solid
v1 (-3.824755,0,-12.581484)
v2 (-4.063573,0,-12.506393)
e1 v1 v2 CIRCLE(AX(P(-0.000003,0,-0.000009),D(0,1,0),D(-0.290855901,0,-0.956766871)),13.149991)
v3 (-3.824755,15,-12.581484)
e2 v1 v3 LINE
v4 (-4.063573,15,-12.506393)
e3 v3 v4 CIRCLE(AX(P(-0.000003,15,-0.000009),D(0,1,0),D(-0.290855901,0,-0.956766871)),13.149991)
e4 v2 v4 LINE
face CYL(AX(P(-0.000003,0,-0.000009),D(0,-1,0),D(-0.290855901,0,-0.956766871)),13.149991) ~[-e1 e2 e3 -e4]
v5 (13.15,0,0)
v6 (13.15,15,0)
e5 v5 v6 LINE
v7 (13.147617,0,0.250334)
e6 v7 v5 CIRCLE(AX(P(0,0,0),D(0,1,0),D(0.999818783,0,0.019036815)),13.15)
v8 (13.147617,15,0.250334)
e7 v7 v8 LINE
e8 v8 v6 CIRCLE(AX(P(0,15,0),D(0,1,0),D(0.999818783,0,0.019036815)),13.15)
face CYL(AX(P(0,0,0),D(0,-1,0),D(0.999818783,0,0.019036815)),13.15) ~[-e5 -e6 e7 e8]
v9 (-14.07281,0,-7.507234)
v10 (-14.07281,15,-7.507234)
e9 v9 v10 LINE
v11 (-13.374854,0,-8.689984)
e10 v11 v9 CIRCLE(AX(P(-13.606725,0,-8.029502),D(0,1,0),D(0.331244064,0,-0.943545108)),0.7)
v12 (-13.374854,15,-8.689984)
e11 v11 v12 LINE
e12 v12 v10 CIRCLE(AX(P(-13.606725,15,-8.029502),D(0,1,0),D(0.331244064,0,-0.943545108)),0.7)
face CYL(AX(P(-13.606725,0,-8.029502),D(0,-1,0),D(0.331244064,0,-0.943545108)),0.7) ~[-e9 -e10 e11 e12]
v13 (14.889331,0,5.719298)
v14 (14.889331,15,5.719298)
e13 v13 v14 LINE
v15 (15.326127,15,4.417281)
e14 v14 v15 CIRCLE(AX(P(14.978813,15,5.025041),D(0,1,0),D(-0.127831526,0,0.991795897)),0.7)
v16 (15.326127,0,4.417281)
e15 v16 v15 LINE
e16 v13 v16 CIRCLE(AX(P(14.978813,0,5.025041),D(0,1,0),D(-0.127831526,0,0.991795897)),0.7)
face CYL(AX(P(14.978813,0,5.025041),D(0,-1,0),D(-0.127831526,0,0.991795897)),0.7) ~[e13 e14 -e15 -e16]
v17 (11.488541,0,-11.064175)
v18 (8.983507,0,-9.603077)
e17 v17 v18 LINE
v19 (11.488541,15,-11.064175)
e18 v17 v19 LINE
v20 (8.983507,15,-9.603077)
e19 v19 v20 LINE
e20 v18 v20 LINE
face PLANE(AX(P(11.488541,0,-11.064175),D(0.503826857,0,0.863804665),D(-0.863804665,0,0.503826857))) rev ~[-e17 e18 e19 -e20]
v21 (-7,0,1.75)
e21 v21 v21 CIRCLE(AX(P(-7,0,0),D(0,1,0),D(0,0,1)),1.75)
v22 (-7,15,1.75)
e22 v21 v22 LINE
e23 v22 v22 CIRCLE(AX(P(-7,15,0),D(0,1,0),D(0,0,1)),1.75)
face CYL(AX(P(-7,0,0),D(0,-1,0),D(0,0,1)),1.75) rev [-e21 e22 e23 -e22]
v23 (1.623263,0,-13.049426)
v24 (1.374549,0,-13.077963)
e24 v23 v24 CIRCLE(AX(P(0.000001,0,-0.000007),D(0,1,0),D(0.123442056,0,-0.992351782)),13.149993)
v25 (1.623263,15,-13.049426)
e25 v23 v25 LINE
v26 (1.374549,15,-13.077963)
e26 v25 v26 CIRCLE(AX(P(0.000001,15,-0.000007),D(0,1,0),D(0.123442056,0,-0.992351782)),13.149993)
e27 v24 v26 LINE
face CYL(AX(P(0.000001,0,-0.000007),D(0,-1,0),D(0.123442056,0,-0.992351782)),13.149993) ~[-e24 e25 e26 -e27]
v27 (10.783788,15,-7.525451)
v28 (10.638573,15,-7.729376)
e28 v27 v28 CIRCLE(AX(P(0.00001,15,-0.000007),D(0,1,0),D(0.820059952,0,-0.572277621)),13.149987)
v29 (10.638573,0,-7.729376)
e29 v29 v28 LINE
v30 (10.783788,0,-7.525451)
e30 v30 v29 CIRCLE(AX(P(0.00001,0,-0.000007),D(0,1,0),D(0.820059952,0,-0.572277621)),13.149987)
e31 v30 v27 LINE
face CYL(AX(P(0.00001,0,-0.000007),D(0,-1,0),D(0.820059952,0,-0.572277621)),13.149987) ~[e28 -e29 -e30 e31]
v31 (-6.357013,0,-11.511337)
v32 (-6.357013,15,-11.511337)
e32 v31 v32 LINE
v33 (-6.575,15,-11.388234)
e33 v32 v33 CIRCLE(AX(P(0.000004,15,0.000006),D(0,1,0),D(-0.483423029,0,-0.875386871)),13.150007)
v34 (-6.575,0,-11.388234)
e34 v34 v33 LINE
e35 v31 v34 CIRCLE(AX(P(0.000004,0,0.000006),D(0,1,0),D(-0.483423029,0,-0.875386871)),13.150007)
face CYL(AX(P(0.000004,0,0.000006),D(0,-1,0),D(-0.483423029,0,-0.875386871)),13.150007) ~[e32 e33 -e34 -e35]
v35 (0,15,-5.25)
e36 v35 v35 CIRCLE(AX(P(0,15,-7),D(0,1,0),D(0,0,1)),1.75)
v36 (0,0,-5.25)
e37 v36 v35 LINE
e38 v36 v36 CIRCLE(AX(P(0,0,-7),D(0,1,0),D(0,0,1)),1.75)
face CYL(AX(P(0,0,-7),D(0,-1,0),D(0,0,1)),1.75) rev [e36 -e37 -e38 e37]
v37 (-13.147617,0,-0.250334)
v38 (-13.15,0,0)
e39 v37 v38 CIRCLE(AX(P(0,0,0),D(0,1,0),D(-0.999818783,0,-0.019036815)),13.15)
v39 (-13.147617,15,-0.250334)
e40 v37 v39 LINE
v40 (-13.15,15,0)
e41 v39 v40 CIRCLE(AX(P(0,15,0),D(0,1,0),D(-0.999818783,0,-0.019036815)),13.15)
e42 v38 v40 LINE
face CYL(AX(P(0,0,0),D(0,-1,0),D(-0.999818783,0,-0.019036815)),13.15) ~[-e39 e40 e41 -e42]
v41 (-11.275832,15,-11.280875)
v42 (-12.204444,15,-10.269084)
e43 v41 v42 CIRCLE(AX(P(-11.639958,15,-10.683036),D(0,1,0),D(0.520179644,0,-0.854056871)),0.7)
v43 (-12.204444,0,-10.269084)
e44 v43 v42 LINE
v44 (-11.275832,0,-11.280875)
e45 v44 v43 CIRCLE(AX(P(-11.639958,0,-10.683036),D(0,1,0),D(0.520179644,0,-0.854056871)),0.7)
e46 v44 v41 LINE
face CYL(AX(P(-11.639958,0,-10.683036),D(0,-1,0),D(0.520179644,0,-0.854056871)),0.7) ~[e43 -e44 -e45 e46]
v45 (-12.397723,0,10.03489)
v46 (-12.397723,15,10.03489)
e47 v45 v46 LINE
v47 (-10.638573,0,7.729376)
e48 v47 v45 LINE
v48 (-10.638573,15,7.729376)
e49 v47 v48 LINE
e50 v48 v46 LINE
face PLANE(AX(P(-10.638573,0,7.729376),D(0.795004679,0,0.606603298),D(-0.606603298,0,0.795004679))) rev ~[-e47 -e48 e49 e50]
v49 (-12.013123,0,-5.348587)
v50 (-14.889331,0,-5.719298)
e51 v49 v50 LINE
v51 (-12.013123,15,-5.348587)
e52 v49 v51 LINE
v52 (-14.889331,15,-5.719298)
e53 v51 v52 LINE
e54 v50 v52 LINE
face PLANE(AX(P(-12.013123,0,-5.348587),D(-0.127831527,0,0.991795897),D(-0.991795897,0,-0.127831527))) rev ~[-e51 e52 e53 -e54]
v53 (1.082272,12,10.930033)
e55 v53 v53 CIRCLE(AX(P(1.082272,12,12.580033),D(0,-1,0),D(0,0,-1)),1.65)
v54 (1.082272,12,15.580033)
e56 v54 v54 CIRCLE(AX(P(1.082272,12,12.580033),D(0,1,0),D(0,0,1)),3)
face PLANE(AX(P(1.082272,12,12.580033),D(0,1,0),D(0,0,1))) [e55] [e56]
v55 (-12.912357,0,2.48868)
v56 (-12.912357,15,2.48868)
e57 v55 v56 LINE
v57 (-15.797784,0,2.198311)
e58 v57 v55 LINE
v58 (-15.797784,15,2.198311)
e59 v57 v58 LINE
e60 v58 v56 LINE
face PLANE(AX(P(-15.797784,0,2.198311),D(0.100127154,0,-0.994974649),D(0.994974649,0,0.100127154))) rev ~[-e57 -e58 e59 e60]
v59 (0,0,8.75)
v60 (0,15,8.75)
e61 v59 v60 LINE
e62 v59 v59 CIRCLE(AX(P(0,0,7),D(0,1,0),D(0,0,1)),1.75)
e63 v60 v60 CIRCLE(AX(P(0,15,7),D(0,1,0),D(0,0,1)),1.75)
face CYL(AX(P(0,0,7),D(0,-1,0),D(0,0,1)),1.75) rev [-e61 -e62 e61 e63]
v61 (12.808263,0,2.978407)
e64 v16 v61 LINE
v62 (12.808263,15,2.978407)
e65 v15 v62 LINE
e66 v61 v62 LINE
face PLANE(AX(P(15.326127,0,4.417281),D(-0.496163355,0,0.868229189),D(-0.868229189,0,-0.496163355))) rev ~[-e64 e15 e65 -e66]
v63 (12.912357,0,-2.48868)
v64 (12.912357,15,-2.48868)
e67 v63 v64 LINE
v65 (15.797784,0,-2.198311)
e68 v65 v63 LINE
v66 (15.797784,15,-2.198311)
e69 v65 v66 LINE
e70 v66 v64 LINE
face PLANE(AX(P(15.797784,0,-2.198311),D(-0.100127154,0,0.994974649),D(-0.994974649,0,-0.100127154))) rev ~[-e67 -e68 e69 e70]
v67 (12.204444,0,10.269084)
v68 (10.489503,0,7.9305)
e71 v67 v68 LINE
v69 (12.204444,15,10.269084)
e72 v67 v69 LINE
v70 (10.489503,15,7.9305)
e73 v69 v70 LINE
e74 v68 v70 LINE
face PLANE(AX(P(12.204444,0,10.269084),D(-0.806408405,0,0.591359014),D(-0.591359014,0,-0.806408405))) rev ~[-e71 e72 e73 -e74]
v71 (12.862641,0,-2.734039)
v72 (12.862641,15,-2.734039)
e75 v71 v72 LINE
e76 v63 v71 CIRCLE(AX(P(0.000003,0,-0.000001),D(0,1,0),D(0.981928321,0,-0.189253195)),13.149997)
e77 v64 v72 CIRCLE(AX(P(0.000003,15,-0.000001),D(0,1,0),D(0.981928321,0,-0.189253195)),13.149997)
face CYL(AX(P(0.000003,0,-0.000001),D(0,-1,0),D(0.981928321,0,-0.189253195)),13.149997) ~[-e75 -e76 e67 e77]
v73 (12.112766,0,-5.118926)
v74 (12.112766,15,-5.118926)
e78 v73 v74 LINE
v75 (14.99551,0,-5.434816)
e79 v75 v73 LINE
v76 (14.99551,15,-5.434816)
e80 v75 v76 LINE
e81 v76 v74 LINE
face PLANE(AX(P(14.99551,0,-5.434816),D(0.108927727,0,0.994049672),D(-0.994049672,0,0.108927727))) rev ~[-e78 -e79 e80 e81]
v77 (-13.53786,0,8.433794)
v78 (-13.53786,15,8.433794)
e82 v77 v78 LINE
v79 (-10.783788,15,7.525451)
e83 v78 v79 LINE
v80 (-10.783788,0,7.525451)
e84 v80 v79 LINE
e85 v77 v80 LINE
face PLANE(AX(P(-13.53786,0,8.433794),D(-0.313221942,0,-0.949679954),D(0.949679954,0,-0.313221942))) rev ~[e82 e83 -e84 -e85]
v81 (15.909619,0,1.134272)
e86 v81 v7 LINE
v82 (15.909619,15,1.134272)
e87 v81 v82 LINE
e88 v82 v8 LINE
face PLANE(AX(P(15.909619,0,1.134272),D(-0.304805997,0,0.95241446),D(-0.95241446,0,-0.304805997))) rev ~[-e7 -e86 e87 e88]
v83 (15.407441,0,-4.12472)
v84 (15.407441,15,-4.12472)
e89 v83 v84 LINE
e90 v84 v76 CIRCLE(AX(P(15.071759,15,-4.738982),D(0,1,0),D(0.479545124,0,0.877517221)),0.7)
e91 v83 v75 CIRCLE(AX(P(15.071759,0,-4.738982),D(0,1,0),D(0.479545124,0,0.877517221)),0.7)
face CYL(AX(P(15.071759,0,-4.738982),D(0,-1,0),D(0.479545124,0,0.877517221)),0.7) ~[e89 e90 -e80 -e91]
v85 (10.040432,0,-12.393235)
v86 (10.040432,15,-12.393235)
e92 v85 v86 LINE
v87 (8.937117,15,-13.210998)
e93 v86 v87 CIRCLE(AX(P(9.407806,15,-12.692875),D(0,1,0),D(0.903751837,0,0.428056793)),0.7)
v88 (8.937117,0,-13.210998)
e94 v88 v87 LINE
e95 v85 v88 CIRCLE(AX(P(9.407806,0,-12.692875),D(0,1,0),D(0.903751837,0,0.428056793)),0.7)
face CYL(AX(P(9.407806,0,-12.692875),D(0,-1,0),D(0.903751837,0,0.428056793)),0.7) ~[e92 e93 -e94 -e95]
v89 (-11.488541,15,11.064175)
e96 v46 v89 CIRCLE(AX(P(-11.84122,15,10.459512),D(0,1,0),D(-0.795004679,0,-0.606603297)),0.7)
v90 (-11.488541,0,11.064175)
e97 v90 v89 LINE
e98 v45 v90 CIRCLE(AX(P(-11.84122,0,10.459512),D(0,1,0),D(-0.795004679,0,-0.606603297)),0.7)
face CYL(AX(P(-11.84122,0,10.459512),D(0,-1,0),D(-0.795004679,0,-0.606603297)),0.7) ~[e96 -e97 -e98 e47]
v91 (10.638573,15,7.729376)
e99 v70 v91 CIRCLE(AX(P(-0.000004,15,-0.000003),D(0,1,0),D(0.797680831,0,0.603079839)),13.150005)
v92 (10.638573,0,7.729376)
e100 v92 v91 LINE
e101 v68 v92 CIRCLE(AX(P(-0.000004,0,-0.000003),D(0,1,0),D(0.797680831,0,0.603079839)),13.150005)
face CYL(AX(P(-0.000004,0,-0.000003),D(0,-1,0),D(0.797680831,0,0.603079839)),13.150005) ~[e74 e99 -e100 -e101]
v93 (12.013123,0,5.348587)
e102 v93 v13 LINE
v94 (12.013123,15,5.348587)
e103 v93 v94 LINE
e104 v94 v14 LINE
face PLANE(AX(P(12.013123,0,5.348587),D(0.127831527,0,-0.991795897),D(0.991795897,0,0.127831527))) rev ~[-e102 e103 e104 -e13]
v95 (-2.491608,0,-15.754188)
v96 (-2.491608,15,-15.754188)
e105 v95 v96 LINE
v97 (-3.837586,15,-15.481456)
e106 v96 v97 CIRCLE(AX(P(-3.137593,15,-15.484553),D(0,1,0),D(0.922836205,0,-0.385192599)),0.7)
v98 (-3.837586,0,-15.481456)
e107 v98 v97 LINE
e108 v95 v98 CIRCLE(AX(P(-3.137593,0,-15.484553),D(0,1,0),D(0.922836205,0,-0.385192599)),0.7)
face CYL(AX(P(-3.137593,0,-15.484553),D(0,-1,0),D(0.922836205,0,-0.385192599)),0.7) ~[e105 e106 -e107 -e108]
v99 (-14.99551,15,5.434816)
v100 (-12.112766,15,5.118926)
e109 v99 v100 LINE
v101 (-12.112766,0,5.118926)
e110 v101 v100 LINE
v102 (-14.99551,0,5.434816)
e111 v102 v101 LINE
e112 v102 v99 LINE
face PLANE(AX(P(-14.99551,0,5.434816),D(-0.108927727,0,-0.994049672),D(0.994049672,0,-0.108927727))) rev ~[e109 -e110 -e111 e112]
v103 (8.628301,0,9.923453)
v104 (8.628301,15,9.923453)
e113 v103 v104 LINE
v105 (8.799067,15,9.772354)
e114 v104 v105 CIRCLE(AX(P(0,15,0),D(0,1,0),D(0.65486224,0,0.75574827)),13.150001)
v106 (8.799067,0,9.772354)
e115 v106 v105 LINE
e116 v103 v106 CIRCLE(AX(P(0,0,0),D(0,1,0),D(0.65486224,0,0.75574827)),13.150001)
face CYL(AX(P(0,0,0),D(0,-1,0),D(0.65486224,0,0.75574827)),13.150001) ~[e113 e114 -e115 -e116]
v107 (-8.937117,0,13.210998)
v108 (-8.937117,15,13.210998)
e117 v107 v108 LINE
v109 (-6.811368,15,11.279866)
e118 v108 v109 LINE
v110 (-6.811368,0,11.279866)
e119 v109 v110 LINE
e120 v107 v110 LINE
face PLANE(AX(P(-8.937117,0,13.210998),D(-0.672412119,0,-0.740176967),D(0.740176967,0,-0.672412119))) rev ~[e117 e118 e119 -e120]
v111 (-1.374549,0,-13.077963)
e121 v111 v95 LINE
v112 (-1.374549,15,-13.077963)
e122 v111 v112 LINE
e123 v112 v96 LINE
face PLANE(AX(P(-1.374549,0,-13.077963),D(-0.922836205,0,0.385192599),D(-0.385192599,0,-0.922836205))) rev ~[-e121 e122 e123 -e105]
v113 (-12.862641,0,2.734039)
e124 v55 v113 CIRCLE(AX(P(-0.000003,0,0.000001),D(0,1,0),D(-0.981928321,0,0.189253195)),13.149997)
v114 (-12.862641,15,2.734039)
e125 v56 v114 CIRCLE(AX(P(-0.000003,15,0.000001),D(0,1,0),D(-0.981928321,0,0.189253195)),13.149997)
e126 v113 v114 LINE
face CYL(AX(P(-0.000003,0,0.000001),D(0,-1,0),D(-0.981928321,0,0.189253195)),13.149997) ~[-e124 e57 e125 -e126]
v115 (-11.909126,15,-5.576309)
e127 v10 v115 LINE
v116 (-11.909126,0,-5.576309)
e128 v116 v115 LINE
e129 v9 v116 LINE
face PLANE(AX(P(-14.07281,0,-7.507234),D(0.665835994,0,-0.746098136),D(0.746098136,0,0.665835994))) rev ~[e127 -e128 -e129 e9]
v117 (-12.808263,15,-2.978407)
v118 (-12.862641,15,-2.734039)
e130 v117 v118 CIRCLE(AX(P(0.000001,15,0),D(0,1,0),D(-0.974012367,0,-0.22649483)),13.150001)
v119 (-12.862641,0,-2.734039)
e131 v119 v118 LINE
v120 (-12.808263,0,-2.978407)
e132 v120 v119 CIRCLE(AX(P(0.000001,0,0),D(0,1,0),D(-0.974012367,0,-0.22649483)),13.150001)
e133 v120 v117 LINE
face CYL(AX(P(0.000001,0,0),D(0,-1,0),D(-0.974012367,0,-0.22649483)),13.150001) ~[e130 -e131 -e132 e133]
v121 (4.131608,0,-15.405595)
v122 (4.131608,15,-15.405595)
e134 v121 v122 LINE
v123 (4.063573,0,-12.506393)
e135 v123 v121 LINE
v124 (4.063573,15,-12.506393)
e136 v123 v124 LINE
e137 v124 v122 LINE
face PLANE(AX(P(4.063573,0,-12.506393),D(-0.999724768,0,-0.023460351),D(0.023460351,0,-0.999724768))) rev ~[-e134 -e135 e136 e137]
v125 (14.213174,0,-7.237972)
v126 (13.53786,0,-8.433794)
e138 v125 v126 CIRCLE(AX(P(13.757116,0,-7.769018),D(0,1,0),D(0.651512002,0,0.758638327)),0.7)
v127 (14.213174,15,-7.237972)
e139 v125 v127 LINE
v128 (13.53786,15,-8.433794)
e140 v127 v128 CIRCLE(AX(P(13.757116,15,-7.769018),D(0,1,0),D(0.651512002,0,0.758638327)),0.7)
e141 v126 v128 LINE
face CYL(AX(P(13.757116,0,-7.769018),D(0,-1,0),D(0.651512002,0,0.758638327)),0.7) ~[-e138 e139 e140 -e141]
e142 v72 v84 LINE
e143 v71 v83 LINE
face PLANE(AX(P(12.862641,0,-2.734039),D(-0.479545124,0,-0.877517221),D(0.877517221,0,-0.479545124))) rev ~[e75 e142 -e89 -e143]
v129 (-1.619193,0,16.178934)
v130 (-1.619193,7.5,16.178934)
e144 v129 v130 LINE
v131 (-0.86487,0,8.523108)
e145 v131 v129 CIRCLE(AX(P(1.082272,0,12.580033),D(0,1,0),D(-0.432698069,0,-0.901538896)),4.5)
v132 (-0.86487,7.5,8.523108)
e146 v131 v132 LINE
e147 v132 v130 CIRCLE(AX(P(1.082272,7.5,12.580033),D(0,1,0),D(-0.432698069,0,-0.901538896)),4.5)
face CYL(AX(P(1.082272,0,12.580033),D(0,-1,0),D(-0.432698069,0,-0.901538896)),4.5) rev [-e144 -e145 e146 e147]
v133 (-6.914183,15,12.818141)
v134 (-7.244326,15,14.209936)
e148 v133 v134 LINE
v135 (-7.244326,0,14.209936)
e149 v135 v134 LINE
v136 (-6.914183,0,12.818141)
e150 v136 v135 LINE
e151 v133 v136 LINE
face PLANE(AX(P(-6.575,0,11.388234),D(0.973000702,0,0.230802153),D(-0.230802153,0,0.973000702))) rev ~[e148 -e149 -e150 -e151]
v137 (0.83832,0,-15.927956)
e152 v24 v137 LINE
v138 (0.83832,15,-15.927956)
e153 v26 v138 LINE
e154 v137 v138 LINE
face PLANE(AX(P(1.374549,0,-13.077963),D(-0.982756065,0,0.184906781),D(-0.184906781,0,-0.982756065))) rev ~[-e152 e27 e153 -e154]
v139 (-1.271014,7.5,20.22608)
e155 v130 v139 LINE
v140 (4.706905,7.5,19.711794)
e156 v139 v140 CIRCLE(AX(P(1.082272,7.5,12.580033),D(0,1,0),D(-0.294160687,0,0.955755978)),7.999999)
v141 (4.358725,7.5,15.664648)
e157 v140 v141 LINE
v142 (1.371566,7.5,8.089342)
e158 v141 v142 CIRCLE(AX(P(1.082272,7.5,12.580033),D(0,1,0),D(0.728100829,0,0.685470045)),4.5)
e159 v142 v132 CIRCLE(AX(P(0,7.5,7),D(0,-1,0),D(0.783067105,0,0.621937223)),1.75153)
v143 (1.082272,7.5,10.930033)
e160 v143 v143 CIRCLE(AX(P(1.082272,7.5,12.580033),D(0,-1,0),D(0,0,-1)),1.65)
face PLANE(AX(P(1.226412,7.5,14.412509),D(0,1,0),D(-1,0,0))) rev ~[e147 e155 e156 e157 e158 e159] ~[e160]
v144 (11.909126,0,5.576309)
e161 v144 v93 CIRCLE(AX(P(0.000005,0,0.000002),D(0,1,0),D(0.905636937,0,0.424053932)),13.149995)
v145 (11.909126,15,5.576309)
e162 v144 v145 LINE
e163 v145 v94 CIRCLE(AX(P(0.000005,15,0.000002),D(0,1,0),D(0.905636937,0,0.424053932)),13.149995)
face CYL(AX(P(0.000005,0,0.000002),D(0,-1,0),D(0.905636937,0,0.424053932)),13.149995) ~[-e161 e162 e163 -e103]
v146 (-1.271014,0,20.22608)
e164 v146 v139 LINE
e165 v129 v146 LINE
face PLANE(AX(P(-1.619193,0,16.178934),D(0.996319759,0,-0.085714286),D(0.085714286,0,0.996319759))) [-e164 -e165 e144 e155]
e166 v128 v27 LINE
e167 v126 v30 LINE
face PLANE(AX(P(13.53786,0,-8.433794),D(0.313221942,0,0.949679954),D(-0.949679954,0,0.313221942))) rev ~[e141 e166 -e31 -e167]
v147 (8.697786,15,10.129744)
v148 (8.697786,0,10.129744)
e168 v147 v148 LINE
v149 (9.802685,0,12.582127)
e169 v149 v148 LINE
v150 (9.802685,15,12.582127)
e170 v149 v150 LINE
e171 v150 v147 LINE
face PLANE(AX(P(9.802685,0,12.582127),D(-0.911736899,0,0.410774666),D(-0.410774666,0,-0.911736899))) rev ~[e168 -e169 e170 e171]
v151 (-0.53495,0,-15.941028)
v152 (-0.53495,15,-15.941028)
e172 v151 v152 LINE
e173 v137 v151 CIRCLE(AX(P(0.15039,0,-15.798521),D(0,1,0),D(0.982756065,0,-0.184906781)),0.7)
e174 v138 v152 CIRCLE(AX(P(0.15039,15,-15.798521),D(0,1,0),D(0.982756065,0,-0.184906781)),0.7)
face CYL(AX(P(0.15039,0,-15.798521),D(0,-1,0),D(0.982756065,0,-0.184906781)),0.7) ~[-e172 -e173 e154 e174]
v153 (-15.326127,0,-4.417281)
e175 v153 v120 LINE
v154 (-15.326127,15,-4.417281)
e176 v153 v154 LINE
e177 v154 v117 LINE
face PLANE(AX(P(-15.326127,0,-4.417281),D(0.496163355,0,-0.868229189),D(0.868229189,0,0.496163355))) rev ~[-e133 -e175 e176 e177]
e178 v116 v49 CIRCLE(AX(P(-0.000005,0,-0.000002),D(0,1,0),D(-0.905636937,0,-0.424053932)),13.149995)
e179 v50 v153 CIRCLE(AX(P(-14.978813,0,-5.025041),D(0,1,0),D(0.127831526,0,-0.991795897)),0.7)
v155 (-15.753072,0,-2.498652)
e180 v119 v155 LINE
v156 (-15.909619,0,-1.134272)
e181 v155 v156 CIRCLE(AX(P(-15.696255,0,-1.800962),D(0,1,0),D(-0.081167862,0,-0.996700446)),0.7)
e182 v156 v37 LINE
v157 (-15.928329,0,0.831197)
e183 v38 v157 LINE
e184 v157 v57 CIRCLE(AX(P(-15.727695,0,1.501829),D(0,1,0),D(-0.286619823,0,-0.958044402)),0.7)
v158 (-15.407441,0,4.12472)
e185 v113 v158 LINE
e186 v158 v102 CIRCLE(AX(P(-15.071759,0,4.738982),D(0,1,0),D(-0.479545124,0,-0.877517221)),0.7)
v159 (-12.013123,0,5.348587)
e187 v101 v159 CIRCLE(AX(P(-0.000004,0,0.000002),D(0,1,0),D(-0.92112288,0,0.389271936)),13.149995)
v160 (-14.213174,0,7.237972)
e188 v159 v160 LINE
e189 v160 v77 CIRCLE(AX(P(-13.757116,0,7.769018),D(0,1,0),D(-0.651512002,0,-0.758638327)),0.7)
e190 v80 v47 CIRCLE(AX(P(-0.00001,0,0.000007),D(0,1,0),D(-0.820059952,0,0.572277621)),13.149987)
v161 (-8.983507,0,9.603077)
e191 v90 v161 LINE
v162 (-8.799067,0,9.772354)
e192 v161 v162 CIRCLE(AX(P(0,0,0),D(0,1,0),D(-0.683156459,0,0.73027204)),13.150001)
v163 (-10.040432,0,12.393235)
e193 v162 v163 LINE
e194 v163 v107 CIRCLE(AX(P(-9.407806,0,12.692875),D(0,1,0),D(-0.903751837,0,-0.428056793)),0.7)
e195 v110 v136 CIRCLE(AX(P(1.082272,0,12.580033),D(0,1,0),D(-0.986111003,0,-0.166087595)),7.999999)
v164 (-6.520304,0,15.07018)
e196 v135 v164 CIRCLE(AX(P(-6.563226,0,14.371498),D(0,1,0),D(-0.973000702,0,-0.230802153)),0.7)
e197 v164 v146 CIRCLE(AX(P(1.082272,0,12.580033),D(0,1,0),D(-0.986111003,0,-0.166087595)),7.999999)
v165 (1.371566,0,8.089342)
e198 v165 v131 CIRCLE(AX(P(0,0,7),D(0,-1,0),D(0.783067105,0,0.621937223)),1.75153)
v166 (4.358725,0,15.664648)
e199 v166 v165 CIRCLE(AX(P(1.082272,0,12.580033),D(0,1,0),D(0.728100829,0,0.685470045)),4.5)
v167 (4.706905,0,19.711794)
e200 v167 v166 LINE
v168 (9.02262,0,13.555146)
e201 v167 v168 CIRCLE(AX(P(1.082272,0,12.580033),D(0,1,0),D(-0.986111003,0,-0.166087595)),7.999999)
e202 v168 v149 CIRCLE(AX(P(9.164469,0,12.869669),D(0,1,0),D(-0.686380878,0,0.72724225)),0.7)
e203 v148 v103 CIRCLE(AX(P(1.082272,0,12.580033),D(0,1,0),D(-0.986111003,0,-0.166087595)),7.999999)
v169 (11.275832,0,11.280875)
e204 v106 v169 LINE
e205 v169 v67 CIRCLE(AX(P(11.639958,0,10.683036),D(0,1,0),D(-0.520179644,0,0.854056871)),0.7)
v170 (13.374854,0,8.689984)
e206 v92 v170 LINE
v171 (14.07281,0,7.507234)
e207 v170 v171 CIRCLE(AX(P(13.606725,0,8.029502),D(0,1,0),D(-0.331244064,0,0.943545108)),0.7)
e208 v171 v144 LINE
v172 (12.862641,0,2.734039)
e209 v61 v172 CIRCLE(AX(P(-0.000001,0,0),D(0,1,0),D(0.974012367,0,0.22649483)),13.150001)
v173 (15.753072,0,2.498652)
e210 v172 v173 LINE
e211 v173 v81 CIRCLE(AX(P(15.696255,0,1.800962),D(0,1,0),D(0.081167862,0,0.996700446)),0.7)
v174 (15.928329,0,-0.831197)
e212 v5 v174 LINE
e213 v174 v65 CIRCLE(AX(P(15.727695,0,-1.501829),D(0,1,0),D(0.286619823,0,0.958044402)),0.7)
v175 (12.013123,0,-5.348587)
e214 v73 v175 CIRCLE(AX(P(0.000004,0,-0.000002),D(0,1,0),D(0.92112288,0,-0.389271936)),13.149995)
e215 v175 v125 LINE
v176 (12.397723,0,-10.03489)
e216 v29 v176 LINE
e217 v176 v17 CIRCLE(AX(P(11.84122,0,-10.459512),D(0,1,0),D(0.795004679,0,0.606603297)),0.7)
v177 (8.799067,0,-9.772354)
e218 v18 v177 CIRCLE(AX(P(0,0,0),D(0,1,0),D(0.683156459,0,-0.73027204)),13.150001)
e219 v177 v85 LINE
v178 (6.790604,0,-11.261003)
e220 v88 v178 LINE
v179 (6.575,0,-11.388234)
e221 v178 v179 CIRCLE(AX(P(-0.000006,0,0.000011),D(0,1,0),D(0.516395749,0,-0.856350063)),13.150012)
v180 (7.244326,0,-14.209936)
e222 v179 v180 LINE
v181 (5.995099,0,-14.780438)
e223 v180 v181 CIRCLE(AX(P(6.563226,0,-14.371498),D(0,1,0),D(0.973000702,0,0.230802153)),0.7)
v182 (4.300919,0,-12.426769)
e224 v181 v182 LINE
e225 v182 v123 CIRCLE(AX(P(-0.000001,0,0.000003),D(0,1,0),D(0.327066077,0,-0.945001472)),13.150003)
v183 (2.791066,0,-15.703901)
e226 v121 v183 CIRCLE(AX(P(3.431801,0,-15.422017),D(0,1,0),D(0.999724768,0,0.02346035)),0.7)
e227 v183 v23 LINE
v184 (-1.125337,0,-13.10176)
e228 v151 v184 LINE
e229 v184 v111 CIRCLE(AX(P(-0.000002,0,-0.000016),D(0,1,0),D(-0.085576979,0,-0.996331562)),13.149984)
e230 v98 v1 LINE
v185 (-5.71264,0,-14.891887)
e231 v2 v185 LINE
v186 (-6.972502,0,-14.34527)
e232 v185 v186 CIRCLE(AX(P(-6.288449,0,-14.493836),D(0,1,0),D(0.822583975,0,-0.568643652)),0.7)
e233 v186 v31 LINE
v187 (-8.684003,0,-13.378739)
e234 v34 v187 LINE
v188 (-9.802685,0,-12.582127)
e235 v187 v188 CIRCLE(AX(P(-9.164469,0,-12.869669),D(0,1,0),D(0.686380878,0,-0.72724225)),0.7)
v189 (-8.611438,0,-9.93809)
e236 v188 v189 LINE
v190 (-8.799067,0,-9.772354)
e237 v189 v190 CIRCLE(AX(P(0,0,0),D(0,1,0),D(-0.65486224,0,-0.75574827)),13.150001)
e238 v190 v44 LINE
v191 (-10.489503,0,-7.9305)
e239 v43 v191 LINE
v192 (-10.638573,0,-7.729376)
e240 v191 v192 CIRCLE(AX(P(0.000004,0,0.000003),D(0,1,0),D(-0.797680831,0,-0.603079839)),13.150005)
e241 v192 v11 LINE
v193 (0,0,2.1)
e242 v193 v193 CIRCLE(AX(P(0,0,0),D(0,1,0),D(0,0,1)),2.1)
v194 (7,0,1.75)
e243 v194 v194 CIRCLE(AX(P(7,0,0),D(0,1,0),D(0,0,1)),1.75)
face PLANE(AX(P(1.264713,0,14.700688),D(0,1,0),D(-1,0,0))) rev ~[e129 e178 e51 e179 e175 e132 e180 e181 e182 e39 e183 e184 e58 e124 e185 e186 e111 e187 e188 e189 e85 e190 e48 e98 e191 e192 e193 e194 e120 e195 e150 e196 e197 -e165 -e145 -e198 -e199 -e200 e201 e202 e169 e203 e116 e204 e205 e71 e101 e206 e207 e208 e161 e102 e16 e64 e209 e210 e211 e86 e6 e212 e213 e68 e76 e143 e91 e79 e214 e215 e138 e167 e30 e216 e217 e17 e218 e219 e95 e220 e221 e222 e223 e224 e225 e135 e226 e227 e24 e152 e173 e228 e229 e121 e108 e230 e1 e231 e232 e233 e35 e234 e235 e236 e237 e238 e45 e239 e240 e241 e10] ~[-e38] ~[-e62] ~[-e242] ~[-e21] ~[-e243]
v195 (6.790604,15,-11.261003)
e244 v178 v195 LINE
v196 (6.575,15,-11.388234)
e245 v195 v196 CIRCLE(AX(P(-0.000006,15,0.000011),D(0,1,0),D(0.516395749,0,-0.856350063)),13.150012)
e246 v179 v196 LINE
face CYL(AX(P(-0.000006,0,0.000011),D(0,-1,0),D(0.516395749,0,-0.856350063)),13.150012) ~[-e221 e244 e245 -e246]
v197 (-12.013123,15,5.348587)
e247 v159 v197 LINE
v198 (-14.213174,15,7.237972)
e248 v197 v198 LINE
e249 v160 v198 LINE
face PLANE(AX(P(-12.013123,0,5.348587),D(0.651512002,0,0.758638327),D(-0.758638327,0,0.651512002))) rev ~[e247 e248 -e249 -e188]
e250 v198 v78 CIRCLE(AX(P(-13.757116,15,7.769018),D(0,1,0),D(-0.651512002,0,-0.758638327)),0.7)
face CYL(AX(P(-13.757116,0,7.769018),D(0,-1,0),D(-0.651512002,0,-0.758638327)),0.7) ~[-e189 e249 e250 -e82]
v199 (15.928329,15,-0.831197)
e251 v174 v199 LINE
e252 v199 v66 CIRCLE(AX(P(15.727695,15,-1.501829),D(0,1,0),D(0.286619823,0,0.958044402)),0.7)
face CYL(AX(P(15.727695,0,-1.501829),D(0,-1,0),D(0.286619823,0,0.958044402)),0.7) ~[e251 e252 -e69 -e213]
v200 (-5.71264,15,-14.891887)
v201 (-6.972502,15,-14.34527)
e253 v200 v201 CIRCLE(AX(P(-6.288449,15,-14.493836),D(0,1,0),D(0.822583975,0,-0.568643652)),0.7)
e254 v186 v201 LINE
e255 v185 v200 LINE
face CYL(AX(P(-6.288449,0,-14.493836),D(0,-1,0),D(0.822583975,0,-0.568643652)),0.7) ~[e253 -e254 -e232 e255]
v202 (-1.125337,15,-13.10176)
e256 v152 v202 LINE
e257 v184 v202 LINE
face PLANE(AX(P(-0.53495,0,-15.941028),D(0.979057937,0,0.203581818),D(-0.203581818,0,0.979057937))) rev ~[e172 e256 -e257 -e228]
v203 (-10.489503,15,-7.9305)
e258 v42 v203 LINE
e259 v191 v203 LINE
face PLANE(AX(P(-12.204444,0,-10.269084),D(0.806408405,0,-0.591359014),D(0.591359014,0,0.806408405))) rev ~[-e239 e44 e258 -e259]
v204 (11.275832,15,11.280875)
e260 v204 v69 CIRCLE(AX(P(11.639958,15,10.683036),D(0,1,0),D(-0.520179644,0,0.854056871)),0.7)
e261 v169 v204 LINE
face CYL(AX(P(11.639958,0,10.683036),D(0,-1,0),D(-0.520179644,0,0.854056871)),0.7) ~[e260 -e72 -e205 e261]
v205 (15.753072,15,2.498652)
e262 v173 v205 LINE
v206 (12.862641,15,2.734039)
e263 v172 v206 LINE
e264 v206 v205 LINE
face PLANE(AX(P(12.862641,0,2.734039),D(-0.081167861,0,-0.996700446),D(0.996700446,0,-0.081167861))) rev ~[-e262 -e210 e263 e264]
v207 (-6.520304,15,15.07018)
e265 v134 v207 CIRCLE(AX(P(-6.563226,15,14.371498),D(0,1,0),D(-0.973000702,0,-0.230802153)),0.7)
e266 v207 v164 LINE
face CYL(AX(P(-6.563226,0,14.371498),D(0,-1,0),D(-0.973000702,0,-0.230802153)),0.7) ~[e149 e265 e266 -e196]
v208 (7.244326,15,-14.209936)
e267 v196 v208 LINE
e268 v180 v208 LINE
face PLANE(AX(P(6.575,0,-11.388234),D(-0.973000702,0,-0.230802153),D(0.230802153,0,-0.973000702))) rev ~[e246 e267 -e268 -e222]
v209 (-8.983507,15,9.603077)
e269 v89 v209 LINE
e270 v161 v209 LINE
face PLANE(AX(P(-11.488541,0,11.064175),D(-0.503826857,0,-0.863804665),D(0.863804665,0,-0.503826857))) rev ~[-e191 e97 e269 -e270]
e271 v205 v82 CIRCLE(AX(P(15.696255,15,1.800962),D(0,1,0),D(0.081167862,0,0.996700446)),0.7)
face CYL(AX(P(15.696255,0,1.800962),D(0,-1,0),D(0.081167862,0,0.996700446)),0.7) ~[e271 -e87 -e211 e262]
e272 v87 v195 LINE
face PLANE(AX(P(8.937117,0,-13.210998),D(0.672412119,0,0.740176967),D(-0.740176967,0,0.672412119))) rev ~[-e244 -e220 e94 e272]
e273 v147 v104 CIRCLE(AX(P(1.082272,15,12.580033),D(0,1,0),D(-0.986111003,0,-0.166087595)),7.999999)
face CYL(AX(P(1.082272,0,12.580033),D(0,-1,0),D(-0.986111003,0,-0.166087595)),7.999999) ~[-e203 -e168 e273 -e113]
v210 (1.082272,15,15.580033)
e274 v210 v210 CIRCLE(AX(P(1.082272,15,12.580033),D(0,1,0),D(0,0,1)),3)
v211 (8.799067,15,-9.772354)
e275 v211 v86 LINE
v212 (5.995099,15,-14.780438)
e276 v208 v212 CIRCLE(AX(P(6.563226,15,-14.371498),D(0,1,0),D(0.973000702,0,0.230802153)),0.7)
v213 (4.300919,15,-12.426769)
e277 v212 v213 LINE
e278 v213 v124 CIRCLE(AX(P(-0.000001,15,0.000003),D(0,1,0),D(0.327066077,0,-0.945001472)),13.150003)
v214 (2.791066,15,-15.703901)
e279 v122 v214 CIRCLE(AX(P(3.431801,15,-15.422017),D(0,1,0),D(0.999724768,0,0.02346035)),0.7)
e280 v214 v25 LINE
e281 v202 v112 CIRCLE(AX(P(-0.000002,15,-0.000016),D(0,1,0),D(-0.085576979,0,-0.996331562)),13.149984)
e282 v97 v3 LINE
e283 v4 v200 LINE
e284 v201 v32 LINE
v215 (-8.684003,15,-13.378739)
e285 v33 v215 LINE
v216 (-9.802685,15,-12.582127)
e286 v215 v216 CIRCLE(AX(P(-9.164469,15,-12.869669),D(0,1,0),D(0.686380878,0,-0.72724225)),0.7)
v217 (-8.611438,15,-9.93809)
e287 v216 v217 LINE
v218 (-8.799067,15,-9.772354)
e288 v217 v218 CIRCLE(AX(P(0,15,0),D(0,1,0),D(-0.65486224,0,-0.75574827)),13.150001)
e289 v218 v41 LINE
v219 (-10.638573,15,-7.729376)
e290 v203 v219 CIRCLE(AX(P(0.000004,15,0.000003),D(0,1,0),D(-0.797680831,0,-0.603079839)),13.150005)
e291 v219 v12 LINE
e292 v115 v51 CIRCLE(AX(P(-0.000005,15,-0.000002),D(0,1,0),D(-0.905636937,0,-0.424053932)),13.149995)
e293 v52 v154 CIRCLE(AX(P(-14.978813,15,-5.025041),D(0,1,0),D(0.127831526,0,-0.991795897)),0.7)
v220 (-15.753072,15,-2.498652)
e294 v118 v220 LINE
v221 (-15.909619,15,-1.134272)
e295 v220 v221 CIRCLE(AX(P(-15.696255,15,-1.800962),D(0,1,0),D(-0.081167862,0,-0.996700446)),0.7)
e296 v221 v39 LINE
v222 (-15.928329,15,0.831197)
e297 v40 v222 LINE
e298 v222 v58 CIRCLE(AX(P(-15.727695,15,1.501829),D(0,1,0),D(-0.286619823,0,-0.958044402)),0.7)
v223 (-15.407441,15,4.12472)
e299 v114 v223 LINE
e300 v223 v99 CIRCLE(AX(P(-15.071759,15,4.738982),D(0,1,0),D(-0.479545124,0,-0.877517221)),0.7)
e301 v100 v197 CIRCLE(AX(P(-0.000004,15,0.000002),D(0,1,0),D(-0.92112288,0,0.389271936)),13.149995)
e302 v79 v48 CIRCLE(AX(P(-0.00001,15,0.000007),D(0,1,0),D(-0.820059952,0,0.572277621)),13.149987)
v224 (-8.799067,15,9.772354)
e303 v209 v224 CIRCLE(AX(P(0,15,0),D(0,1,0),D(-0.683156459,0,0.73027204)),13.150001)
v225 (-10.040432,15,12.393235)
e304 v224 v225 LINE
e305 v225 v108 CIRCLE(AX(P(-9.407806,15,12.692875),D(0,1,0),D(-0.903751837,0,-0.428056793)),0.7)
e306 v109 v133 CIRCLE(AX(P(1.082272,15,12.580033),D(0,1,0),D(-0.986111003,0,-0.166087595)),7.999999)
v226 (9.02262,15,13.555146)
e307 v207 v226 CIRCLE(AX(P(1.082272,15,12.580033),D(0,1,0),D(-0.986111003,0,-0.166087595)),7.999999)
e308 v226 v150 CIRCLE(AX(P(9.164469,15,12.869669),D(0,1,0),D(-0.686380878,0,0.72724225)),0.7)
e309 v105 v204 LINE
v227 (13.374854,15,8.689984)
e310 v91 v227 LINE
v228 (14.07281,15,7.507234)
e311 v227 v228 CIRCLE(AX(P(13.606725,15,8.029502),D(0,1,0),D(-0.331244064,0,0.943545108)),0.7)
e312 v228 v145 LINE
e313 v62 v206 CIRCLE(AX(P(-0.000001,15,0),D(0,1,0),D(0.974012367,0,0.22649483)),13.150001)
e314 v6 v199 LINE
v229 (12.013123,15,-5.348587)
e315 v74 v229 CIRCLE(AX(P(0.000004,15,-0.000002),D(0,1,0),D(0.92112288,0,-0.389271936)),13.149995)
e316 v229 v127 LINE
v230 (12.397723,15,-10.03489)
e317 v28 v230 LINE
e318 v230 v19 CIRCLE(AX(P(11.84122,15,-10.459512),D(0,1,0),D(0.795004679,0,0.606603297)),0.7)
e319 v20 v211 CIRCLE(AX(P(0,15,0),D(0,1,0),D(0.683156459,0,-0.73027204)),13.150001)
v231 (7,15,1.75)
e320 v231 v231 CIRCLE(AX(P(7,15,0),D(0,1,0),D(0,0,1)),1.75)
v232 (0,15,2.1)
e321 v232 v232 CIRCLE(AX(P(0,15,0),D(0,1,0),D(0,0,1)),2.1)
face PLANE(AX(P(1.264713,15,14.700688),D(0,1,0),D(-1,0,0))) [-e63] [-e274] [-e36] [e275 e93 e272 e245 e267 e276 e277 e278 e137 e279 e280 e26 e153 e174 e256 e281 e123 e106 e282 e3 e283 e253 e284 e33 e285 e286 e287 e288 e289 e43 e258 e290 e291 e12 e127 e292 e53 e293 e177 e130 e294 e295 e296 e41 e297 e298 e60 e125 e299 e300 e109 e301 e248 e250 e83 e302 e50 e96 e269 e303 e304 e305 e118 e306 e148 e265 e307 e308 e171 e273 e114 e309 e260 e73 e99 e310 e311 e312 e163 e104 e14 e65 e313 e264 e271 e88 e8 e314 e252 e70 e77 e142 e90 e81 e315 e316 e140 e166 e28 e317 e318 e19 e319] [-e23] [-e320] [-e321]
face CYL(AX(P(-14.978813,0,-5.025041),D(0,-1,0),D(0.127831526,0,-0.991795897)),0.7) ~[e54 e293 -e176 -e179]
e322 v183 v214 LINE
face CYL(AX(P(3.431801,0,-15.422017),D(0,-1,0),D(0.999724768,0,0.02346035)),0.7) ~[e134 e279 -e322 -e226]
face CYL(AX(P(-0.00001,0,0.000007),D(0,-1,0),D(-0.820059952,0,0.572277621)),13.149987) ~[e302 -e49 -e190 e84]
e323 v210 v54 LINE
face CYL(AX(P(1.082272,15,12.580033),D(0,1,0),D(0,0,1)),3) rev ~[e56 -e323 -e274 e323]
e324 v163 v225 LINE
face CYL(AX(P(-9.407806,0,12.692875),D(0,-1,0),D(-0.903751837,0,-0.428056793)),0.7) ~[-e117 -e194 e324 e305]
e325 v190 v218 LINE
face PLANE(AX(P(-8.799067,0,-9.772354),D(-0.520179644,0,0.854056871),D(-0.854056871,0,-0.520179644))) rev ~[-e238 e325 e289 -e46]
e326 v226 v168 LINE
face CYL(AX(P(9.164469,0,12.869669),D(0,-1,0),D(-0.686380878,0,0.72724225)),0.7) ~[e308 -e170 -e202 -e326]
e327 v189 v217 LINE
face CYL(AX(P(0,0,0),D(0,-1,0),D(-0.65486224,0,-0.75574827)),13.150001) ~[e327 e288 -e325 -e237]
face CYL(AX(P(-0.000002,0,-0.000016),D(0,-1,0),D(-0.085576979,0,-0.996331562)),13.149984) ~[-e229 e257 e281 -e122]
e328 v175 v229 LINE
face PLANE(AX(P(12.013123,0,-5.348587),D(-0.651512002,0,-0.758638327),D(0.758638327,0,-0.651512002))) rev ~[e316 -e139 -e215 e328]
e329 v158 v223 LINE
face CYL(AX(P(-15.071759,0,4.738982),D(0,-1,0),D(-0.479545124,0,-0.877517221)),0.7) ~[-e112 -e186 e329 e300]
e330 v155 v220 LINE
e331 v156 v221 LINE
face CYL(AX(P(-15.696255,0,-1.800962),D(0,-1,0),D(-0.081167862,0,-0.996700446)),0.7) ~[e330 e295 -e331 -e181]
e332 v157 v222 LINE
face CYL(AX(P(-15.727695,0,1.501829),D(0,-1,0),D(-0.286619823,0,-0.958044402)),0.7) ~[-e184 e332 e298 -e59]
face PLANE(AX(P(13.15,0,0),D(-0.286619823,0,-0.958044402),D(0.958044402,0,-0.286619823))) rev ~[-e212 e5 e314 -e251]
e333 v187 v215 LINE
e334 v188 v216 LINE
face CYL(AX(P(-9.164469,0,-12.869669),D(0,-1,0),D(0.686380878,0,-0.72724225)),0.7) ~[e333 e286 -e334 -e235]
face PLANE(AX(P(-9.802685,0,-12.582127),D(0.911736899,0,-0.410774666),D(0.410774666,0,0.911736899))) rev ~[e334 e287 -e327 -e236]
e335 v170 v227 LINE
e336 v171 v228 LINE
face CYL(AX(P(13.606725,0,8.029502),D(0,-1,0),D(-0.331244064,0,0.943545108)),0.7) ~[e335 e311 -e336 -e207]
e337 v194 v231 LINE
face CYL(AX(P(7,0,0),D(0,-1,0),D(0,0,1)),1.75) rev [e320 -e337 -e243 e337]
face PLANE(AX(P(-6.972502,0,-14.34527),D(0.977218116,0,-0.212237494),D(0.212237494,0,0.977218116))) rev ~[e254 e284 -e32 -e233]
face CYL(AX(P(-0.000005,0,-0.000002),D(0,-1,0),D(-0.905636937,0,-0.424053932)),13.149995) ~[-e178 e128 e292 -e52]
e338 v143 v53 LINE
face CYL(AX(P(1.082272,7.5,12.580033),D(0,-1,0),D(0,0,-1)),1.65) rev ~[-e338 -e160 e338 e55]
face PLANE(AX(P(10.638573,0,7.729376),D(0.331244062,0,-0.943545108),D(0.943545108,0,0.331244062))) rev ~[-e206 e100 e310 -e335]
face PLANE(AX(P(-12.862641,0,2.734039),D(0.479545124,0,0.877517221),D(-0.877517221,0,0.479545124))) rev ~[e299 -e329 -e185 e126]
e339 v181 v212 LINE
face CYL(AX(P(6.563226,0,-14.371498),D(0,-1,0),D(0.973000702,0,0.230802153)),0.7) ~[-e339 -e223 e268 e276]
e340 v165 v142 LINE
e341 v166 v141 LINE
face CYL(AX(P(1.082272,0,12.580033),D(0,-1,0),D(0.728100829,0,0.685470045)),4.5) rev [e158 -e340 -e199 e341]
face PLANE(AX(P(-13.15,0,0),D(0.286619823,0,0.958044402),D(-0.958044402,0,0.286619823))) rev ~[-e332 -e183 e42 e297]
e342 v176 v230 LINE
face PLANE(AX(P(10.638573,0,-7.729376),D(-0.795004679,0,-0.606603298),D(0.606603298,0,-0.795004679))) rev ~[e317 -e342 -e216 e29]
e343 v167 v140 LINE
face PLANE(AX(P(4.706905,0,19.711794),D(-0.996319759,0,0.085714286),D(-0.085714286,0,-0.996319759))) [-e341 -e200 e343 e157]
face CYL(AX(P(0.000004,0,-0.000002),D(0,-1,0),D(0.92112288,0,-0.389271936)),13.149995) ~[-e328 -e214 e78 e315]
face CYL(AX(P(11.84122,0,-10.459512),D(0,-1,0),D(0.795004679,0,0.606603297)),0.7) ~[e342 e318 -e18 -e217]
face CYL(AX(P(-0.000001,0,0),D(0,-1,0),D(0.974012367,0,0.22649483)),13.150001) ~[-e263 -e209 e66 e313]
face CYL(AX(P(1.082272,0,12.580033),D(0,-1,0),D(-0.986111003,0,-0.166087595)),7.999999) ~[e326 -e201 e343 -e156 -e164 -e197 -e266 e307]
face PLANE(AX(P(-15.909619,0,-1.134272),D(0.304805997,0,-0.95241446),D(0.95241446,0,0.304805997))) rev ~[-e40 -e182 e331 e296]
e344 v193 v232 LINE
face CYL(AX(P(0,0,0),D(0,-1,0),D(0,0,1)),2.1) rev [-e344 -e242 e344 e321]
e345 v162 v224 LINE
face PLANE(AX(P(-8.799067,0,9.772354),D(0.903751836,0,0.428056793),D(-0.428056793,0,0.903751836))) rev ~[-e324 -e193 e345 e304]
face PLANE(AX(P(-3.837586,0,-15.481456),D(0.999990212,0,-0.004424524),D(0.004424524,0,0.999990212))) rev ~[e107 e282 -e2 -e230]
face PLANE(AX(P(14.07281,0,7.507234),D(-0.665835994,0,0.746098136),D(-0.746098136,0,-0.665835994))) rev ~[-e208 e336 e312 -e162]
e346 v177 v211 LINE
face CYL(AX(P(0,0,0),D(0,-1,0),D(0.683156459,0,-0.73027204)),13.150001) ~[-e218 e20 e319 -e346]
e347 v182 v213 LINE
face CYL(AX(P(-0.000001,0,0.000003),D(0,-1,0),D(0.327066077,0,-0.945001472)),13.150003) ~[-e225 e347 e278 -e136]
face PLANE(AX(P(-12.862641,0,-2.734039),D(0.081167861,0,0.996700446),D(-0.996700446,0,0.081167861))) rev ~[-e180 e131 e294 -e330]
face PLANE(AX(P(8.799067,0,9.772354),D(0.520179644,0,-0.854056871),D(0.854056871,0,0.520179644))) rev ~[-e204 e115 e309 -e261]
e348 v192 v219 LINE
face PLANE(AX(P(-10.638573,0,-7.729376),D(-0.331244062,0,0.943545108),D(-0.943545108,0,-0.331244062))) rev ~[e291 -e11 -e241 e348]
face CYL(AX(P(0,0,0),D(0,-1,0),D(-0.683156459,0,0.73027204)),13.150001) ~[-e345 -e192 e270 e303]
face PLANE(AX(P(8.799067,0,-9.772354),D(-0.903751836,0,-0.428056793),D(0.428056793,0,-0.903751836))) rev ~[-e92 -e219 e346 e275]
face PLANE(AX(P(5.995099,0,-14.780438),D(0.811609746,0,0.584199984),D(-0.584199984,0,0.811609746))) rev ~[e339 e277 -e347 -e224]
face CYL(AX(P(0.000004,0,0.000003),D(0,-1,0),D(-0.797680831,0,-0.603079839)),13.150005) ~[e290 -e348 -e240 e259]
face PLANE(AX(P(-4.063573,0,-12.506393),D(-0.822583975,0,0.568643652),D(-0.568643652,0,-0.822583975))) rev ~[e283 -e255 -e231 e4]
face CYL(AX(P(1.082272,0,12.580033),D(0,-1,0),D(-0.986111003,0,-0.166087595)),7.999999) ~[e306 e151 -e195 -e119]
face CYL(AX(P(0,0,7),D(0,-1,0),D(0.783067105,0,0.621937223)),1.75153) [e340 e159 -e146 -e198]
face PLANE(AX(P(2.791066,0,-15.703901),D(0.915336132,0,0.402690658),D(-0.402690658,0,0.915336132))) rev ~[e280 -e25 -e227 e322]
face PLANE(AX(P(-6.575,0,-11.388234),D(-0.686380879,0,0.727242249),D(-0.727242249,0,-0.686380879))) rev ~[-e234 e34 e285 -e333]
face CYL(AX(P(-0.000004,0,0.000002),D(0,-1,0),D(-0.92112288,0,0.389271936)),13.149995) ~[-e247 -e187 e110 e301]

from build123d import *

# Parameters (mm, degrees)
SKETCH_1_R          = 2.1
SKETCH_1_R_2        = 1.75
EXTRUDE_1_DEPTH     = 15
EXTRUDE_4_DEPTH     = 15
CUT_EXTRUDE_2_DEPTH = 7.5
SKETCH_6_R          = 3
CUT_EXTRUDE_3_DEPTH = 3
SKETCH_7_R          = 1.65
CUT_EXTRUDE_4_DEPTH = 7.5


with BuildPart() as part:
    # 草图1 → 凸台-拉伸1 (new body)
    with BuildSketch(Plane(origin=(0, 0, 0), x_dir=(1, 0, 0), z_dir=(0, 1, 0))):
        with BuildLine():
            Line((13.15, 0), (15.928328767, 0.831197488))
            ThreePointArc((15.928328767, 0.831197488), (16.42452517, 1.568368494), (15.797783898, 2.198310824))
            Line((15.797783898, 2.198310824), (12.912357414, 2.48867957))
            ThreePointArc((12.912357414, 2.48867957), (12.888083079, 2.611477465), (12.86264095, 2.734038734))
            Line((12.86264095, 2.734038734), (15.407440892, 4.124719594))
            ThreePointArc((15.407440892, 4.124719594), (15.739527743, 4.948946678), (14.995509896, 5.43481642))
            Line((14.995509896, 5.43481642), (12.112765847, 5.118926013))
            ThreePointArc((12.112765847, 5.118926013), (12.063490846, 5.233993562), (12.013122768, 5.348586856))
            Line((12.013122768, 5.348586856), (14.213173917, 7.237971662))
            ThreePointArc((14.213173917, 7.237971662), (14.366637427, 8.113232145), (13.537860156, 8.433794459))
            Line((13.537860156, 8.433794459), (10.783788289, 7.525450826))
            ThreePointArc((10.783788289, 7.525450826), (10.711666177, 7.627759024), (10.638573476, 7.729376068))
            Line((10.638573476, 7.729376068), (12.397723039, 10.034889636))
            ThreePointArc((12.397723039, 10.034889636), (12.365856116, 10.922930435), (11.488540964, 11.06417521))
            Line((11.488540964, 11.06417521), (8.983507437, 9.603077326))
            ThreePointArc((8.983507437, 9.603077326), (8.891690295, 9.688154814), (8.799067474, 9.772354455))
            Line((8.799067474, 9.772354455), (10.040432174, 12.393234781))
            ThreePointArc((10.040432174, 12.393234781), (9.824627556, 13.255244252), (8.937117405, 13.210998413))
            Line((8.937117405, 13.210998413), (6.790604202, 11.261003267))
            ThreePointArc((6.790604202, 11.261003267), (6.68310488, 11.32513175), (6.575, 11.38823406))
            Line((6.575, 11.38823406), (7.244326243, 14.209936096))
            ThreePointArc((7.244326243, 14.209936096), (6.854015627, 15.008240289), (5.99509893, 14.780437591))
            Line((5.99509893, 14.780437591), (4.300918978, 12.426769329))
            ThreePointArc((4.300918978, 12.426769329), (4.182435713, 12.467146085), (4.063573476, 12.506393189))
            Line((4.063573476, 12.506393189), (4.131608494, 15.405595017))
            ThreePointArc((4.131608494, 15.405595017), (3.583850326, 16.105304208), (2.791065864, 15.703900723))
            Line((2.791065864, 15.703900723), (1.623262957, 13.04942594))
            ThreePointArc((1.623262957, 13.04942594), (1.498974036, 13.064286312), (1.374549292, 13.077962924))
            Line((1.374549292, 13.077962924), (0.838319627, 15.927955511))
            ThreePointArc((0.838319627, 15.927955511), (0.157053569, 16.498489051), (-0.534950174, 15.941028037))
            Line((-0.534950174, 15.941028037), (-1.125337445, 13.10176002))
            ThreePointArc((-1.125337445, 13.10176002), (-1.25, 13.090454538), (-1.374549292, 13.077962924))
            Line((-1.374549292, 13.077962924), (-2.49160783, 15.754187919))
            ThreePointArc((-2.49160783, 15.754187919), (-3.276607183, 16.170610754), (-3.837586321, 15.481455933))
            Line((-3.837586321, 15.481455933), (-3.8247552, 12.581484318))
            ThreePointArc((-3.8247552, 12.581484318), (-3.944343037, 12.544507085), (-4.063573476, 12.506393189))
            Line((-4.063573476, 12.506393189), (-5.712640068, 14.891886718))
            ThreePointArc((-5.712640068, 14.891886718), (-6.567064478, 15.135999172), (-6.972501532, 14.345269916))
            Line((-6.972501532, 14.345269916), (-6.3570128, 11.511337379))
            ThreePointArc((-6.3570128, 11.511337379), (-6.466299357, 11.450304477), (-6.575, 11.38823406))
            Line((-6.575, 11.38823406), (-8.684002523, 13.378738608))
            ThreePointArc((-8.684002523, 13.378738608), (-9.570509543, 13.439871795), (-9.802684968, 12.582126767))
            Line((-9.802684968, 12.582126767), (-8.611438437, 9.938089759))
            ThreePointArc((-8.611438437, 9.938089759), (-8.705647366, 9.85566862), (-8.799067474, 9.772354455))
            Line((-8.799067474, 9.772354455), (-11.275832398, 11.280875422))
            ThreePointArc((-11.275832398, 11.280875422), (-12.155677416, 11.15635753), (-12.204444033, 10.269084303))
            Line((-12.204444033, 10.269084303), (-10.489502891, 7.930499928))
            ThreePointArc((-10.489502891, 7.930499928), (-10.564516811, 7.83029275), (-10.638573476, 7.729376068))
            Line((-10.638573476, 7.729376068), (-13.374854289, 8.689983849))
            ThreePointArc((-13.374854289, 8.689983849), (-14.209583858, 8.385256906), (-14.072810329, 7.507233578))
            Line((-14.072810329, 7.507233578), (-11.909125735, 5.576309195))
            ThreePointArc((-11.909125735, 5.576309195), (-11.961666177, 5.462695514), (-12.013122768, 5.348586856))
            Line((-12.013122768, 5.348586856), (-14.889330869, 5.719298283))
            ThreePointArc((-14.889330869, 5.719298283), (-15.642463299, 5.247680319), (-15.326127286, 4.417280723))
            Line((-15.326127286, 4.417280723), (-12.808262637, 2.978406992))
            ThreePointArc((-12.808262637, 2.978406992), (-12.836033332, 2.856352271), (-12.86264095, 2.734038734))
            Line((-12.86264095, 2.734038734), (-15.753072242, 2.498651937))
            ThreePointArc((-15.753072242, 2.498651937), (-16.391692033, 1.88075492), (-15.909618937, 1.134271503))
            Line((-15.909618937, 1.134271503), (-13.147617002, 0.250334112))
            ThreePointArc((-13.147617002, 0.250334112), (-13.149404237, 0.125172727), (-13.15, 0))
            Line((-13.15, 0), (-15.928328767, -0.831197488))
            ThreePointArc((-15.928328767, -0.831197488), (-16.42452517, -1.568368494), (-15.797783898, -2.198310824))
            Line((-15.797783898, -2.198310824), (-12.912357414, -2.48867957))
            ThreePointArc((-12.912357414, -2.48867957), (-12.888083079, -2.611477465), (-12.86264095, -2.734038734))
            Line((-12.86264095, -2.734038734), (-15.407440892, -4.124719594))
            ThreePointArc((-15.407440892, -4.124719594), (-15.739527743, -4.948946678), (-14.995509896, -5.43481642))
            Line((-14.995509896, -5.43481642), (-12.112765847, -5.118926013))
            ThreePointArc((-12.112765847, -5.118926013), (-12.063490846, -5.233993562), (-12.013122768, -5.348586856))
            Line((-12.013122768, -5.348586856), (-14.213173917, -7.237971662))
            ThreePointArc((-14.213173917, -7.237971662), (-14.366637427, -8.113232145), (-13.537860156, -8.433794459))
            Line((-13.537860156, -8.433794459), (-10.783788289, -7.525450826))
            ThreePointArc((-10.783788289, -7.525450826), (-10.711666177, -7.627759024), (-10.638573476, -7.729376068))
            Line((-10.638573476, -7.729376068), (-12.397723039, -10.034889636))
            ThreePointArc((-12.397723039, -10.034889636), (-12.365856116, -10.922930435), (-11.488540964, -11.06417521))
            Line((-11.488540964, -11.06417521), (-8.983507437, -9.603077326))
            ThreePointArc((-8.983507437, -9.603077326), (-8.891690295, -9.688154814), (-8.799067474, -9.772354455))
            Line((-8.799067474, -9.772354455), (-10.040432174, -12.393234781))
            ThreePointArc((-10.040432174, -12.393234781), (-9.824627556, -13.255244252), (-8.937117405, -13.210998413))
            Line((-8.937117405, -13.210998413), (-6.790604202, -11.261003267))
            ThreePointArc((-6.790604202, -11.261003267), (-6.68310488, -11.32513175), (-6.575, -11.38823406))
            Line((-6.575, -11.38823406), (-7.244326243, -14.209936096))
            ThreePointArc((-7.244326243, -14.209936096), (-6.854015627, -15.008240289), (-5.99509893, -14.780437591))
            Line((-5.99509893, -14.780437591), (-4.300918978, -12.426769329))
            ThreePointArc((-4.300918978, -12.426769329), (-4.182435713, -12.467146085), (-4.063573476, -12.506393189))
            Line((-4.063573476, -12.506393189), (-4.131608494, -15.405595017))
            ThreePointArc((-4.131608494, -15.405595017), (-3.583850326, -16.105304208), (-2.791065864, -15.703900723))
            Line((-2.791065864, -15.703900723), (-1.623262957, -13.04942594))
            ThreePointArc((-1.623262957, -13.04942594), (-1.498974036, -13.064286312), (-1.374549292, -13.077962924))
            Line((-1.374549292, -13.077962924), (-0.838319627, -15.927955511))
            ThreePointArc((-0.838319627, -15.927955511), (-0.157053569, -16.498489051), (0.534950174, -15.941028037))
            Line((0.534950174, -15.941028037), (1.125337445, -13.10176002))
            ThreePointArc((1.125337445, -13.10176002), (1.25, -13.090454538), (1.374549292, -13.077962924))
            Line((1.374549292, -13.077962924), (2.49160783, -15.754187919))
            ThreePointArc((2.49160783, -15.754187919), (3.276607183, -16.170610754), (3.837586321, -15.481455933))
            Line((3.837586321, -15.481455933), (3.8247552, -12.581484318))
            ThreePointArc((3.8247552, -12.581484318), (3.944343037, -12.544507085), (4.063573476, -12.506393189))
            Line((4.063573476, -12.506393189), (5.712640068, -14.891886718))
            ThreePointArc((5.712640068, -14.891886718), (6.567064478, -15.135999172), (6.972501532, -14.345269916))
            Line((6.972501532, -14.345269916), (6.3570128, -11.511337379))
            ThreePointArc((6.3570128, -11.511337379), (6.466299357, -11.450304477), (6.575, -11.38823406))
            Line((6.575, -11.38823406), (8.684002523, -13.378738608))
            ThreePointArc((8.684002523, -13.378738608), (9.570509543, -13.439871795), (9.802684968, -12.582126767))
            Line((9.802684968, -12.582126767), (8.611438437, -9.938089759))
            ThreePointArc((8.611438437, -9.938089759), (8.705647366, -9.85566862), (8.799067474, -9.772354455))
            Line((8.799067474, -9.772354455), (11.275832398, -11.280875422))
            ThreePointArc((11.275832398, -11.280875422), (12.155677416, -11.15635753), (12.204444033, -10.269084303))
            Line((12.204444033, -10.269084303), (10.489502891, -7.930499928))
            ThreePointArc((10.489502891, -7.930499928), (10.564516811, -7.83029275), (10.638573476, -7.729376068))
            Line((10.638573476, -7.729376068), (13.374854289, -8.689983849))
            ThreePointArc((13.374854289, -8.689983849), (14.209583858, -8.385256906), (14.072810329, -7.507233578))
            Line((14.072810329, -7.507233578), (11.909125735, -5.576309195))
            ThreePointArc((11.909125735, -5.576309195), (11.961666177, -5.462695514), (12.013122768, -5.348586856))
            Line((12.013122768, -5.348586856), (14.889330869, -5.719298283))
            ThreePointArc((14.889330869, -5.719298283), (15.642463299, -5.247680319), (15.326127286, -4.417280723))
            Line((15.326127286, -4.417280723), (12.808262637, -2.978406992))
            ThreePointArc((12.808262637, -2.978406992), (12.836033332, -2.856352271), (12.86264095, -2.734038734))
            Line((12.86264095, -2.734038734), (15.753072242, -2.498651937))
            ThreePointArc((15.753072242, -2.498651937), (16.391692033, -1.88075492), (15.909618937, -1.134271503))
            Line((15.909618937, -1.134271503), (13.147617002, -0.250334112))
            ThreePointArc((13.147617002, -0.250334112), (13.149404237, -0.125172727), (13.15, 0))
        make_face()
        with Locations(Location((0, 0, 0), (0, 0, 270))):
            Circle(SKETCH_1_R, mode=Mode.SUBTRACT)
        with Locations(Location((0, 7, 0), (0, 0, 270))):
            Circle(SKETCH_1_R_2, mode=Mode.SUBTRACT)
        with Locations(Location((7, 0, 0), (0, 0, 270))):
            Circle(SKETCH_1_R_2, mode=Mode.SUBTRACT)
        with Locations(Location((0, -7, 0), (0, 0, 270))):
            Circle(SKETCH_1_R_2, mode=Mode.SUBTRACT)
        with Locations(Location((-7, 0, 0), (0, 0, 270))):
            Circle(SKETCH_1_R_2, mode=Mode.SUBTRACT)
    extrude(amount=EXTRUDE_1_DEPTH)

    # 草图2 → 凸台-拉伸4 (add)
    with BuildSketch(Plane.XZ):
        with BuildLine():
            ThreePointArc((8.628301334, 9.923452831), (1.127142857, 13.101604825), (-6.80661548, 11.251332619))
            ThreePointArc((-6.80661548, 11.251332619), (1.767985784, 20.55059031), (8.628301334, 9.923452831))
        make_face()
    extrude(amount=-EXTRUDE_4_DEPTH)

    # 草图5 → 切除-拉伸2 (cut)
    with BuildSketch(Plane.XZ):
        with BuildLine():
            Line((-1.619193239, 16.178934134), (-1.271013628, 20.226080108))
            ThreePointArc((-1.271013628, 20.226080108), (1.767985784, 20.55059031), (4.706904923, 19.711794394))
            Line((4.706904923, 19.711794394), (4.358725312, 15.66464842))
            ThreePointArc((4.358725312, 15.66464842), (5.268553565, 10.929262742), (1.371565714, 8.089341854))
            ThreePointArc((1.371565714, 8.089341854), (0.333501893, 8.719486746), (-0.864869727, 8.523108183))
            ThreePointArc((-0.864869727, 8.523108183), (-3.396043111, 12.138787805), (-1.619193239, 16.178934134))
        make_face()
    extrude(amount=-CUT_EXTRUDE_2_DEPTH, mode=Mode.SUBTRACT)

    # 草图6 → 切除-拉伸3 (cut)
    with BuildSketch(Plane(origin=(0, 15, 0), x_dir=(1, 0, 0), z_dir=(0, 1, 0))):
        with Locations(Location((1.082271582, -12.580033216, 0), (0, 0, 270))):
            Circle(SKETCH_6_R)
    extrude(amount=-CUT_EXTRUDE_3_DEPTH, mode=Mode.SUBTRACT)

    # 草图7 → 切除-拉伸4 (cut)
    with BuildSketch(Plane.XZ.offset(-7.5)):
        with Locations(Location((1.082271582, 12.580033216, 0), (0, 0, 270))):
            Circle(SKETCH_7_R)
    extrude(amount=-CUT_EXTRUDE_4_DEPTH, mode=Mode.SUBTRACT)


solid = part.part
